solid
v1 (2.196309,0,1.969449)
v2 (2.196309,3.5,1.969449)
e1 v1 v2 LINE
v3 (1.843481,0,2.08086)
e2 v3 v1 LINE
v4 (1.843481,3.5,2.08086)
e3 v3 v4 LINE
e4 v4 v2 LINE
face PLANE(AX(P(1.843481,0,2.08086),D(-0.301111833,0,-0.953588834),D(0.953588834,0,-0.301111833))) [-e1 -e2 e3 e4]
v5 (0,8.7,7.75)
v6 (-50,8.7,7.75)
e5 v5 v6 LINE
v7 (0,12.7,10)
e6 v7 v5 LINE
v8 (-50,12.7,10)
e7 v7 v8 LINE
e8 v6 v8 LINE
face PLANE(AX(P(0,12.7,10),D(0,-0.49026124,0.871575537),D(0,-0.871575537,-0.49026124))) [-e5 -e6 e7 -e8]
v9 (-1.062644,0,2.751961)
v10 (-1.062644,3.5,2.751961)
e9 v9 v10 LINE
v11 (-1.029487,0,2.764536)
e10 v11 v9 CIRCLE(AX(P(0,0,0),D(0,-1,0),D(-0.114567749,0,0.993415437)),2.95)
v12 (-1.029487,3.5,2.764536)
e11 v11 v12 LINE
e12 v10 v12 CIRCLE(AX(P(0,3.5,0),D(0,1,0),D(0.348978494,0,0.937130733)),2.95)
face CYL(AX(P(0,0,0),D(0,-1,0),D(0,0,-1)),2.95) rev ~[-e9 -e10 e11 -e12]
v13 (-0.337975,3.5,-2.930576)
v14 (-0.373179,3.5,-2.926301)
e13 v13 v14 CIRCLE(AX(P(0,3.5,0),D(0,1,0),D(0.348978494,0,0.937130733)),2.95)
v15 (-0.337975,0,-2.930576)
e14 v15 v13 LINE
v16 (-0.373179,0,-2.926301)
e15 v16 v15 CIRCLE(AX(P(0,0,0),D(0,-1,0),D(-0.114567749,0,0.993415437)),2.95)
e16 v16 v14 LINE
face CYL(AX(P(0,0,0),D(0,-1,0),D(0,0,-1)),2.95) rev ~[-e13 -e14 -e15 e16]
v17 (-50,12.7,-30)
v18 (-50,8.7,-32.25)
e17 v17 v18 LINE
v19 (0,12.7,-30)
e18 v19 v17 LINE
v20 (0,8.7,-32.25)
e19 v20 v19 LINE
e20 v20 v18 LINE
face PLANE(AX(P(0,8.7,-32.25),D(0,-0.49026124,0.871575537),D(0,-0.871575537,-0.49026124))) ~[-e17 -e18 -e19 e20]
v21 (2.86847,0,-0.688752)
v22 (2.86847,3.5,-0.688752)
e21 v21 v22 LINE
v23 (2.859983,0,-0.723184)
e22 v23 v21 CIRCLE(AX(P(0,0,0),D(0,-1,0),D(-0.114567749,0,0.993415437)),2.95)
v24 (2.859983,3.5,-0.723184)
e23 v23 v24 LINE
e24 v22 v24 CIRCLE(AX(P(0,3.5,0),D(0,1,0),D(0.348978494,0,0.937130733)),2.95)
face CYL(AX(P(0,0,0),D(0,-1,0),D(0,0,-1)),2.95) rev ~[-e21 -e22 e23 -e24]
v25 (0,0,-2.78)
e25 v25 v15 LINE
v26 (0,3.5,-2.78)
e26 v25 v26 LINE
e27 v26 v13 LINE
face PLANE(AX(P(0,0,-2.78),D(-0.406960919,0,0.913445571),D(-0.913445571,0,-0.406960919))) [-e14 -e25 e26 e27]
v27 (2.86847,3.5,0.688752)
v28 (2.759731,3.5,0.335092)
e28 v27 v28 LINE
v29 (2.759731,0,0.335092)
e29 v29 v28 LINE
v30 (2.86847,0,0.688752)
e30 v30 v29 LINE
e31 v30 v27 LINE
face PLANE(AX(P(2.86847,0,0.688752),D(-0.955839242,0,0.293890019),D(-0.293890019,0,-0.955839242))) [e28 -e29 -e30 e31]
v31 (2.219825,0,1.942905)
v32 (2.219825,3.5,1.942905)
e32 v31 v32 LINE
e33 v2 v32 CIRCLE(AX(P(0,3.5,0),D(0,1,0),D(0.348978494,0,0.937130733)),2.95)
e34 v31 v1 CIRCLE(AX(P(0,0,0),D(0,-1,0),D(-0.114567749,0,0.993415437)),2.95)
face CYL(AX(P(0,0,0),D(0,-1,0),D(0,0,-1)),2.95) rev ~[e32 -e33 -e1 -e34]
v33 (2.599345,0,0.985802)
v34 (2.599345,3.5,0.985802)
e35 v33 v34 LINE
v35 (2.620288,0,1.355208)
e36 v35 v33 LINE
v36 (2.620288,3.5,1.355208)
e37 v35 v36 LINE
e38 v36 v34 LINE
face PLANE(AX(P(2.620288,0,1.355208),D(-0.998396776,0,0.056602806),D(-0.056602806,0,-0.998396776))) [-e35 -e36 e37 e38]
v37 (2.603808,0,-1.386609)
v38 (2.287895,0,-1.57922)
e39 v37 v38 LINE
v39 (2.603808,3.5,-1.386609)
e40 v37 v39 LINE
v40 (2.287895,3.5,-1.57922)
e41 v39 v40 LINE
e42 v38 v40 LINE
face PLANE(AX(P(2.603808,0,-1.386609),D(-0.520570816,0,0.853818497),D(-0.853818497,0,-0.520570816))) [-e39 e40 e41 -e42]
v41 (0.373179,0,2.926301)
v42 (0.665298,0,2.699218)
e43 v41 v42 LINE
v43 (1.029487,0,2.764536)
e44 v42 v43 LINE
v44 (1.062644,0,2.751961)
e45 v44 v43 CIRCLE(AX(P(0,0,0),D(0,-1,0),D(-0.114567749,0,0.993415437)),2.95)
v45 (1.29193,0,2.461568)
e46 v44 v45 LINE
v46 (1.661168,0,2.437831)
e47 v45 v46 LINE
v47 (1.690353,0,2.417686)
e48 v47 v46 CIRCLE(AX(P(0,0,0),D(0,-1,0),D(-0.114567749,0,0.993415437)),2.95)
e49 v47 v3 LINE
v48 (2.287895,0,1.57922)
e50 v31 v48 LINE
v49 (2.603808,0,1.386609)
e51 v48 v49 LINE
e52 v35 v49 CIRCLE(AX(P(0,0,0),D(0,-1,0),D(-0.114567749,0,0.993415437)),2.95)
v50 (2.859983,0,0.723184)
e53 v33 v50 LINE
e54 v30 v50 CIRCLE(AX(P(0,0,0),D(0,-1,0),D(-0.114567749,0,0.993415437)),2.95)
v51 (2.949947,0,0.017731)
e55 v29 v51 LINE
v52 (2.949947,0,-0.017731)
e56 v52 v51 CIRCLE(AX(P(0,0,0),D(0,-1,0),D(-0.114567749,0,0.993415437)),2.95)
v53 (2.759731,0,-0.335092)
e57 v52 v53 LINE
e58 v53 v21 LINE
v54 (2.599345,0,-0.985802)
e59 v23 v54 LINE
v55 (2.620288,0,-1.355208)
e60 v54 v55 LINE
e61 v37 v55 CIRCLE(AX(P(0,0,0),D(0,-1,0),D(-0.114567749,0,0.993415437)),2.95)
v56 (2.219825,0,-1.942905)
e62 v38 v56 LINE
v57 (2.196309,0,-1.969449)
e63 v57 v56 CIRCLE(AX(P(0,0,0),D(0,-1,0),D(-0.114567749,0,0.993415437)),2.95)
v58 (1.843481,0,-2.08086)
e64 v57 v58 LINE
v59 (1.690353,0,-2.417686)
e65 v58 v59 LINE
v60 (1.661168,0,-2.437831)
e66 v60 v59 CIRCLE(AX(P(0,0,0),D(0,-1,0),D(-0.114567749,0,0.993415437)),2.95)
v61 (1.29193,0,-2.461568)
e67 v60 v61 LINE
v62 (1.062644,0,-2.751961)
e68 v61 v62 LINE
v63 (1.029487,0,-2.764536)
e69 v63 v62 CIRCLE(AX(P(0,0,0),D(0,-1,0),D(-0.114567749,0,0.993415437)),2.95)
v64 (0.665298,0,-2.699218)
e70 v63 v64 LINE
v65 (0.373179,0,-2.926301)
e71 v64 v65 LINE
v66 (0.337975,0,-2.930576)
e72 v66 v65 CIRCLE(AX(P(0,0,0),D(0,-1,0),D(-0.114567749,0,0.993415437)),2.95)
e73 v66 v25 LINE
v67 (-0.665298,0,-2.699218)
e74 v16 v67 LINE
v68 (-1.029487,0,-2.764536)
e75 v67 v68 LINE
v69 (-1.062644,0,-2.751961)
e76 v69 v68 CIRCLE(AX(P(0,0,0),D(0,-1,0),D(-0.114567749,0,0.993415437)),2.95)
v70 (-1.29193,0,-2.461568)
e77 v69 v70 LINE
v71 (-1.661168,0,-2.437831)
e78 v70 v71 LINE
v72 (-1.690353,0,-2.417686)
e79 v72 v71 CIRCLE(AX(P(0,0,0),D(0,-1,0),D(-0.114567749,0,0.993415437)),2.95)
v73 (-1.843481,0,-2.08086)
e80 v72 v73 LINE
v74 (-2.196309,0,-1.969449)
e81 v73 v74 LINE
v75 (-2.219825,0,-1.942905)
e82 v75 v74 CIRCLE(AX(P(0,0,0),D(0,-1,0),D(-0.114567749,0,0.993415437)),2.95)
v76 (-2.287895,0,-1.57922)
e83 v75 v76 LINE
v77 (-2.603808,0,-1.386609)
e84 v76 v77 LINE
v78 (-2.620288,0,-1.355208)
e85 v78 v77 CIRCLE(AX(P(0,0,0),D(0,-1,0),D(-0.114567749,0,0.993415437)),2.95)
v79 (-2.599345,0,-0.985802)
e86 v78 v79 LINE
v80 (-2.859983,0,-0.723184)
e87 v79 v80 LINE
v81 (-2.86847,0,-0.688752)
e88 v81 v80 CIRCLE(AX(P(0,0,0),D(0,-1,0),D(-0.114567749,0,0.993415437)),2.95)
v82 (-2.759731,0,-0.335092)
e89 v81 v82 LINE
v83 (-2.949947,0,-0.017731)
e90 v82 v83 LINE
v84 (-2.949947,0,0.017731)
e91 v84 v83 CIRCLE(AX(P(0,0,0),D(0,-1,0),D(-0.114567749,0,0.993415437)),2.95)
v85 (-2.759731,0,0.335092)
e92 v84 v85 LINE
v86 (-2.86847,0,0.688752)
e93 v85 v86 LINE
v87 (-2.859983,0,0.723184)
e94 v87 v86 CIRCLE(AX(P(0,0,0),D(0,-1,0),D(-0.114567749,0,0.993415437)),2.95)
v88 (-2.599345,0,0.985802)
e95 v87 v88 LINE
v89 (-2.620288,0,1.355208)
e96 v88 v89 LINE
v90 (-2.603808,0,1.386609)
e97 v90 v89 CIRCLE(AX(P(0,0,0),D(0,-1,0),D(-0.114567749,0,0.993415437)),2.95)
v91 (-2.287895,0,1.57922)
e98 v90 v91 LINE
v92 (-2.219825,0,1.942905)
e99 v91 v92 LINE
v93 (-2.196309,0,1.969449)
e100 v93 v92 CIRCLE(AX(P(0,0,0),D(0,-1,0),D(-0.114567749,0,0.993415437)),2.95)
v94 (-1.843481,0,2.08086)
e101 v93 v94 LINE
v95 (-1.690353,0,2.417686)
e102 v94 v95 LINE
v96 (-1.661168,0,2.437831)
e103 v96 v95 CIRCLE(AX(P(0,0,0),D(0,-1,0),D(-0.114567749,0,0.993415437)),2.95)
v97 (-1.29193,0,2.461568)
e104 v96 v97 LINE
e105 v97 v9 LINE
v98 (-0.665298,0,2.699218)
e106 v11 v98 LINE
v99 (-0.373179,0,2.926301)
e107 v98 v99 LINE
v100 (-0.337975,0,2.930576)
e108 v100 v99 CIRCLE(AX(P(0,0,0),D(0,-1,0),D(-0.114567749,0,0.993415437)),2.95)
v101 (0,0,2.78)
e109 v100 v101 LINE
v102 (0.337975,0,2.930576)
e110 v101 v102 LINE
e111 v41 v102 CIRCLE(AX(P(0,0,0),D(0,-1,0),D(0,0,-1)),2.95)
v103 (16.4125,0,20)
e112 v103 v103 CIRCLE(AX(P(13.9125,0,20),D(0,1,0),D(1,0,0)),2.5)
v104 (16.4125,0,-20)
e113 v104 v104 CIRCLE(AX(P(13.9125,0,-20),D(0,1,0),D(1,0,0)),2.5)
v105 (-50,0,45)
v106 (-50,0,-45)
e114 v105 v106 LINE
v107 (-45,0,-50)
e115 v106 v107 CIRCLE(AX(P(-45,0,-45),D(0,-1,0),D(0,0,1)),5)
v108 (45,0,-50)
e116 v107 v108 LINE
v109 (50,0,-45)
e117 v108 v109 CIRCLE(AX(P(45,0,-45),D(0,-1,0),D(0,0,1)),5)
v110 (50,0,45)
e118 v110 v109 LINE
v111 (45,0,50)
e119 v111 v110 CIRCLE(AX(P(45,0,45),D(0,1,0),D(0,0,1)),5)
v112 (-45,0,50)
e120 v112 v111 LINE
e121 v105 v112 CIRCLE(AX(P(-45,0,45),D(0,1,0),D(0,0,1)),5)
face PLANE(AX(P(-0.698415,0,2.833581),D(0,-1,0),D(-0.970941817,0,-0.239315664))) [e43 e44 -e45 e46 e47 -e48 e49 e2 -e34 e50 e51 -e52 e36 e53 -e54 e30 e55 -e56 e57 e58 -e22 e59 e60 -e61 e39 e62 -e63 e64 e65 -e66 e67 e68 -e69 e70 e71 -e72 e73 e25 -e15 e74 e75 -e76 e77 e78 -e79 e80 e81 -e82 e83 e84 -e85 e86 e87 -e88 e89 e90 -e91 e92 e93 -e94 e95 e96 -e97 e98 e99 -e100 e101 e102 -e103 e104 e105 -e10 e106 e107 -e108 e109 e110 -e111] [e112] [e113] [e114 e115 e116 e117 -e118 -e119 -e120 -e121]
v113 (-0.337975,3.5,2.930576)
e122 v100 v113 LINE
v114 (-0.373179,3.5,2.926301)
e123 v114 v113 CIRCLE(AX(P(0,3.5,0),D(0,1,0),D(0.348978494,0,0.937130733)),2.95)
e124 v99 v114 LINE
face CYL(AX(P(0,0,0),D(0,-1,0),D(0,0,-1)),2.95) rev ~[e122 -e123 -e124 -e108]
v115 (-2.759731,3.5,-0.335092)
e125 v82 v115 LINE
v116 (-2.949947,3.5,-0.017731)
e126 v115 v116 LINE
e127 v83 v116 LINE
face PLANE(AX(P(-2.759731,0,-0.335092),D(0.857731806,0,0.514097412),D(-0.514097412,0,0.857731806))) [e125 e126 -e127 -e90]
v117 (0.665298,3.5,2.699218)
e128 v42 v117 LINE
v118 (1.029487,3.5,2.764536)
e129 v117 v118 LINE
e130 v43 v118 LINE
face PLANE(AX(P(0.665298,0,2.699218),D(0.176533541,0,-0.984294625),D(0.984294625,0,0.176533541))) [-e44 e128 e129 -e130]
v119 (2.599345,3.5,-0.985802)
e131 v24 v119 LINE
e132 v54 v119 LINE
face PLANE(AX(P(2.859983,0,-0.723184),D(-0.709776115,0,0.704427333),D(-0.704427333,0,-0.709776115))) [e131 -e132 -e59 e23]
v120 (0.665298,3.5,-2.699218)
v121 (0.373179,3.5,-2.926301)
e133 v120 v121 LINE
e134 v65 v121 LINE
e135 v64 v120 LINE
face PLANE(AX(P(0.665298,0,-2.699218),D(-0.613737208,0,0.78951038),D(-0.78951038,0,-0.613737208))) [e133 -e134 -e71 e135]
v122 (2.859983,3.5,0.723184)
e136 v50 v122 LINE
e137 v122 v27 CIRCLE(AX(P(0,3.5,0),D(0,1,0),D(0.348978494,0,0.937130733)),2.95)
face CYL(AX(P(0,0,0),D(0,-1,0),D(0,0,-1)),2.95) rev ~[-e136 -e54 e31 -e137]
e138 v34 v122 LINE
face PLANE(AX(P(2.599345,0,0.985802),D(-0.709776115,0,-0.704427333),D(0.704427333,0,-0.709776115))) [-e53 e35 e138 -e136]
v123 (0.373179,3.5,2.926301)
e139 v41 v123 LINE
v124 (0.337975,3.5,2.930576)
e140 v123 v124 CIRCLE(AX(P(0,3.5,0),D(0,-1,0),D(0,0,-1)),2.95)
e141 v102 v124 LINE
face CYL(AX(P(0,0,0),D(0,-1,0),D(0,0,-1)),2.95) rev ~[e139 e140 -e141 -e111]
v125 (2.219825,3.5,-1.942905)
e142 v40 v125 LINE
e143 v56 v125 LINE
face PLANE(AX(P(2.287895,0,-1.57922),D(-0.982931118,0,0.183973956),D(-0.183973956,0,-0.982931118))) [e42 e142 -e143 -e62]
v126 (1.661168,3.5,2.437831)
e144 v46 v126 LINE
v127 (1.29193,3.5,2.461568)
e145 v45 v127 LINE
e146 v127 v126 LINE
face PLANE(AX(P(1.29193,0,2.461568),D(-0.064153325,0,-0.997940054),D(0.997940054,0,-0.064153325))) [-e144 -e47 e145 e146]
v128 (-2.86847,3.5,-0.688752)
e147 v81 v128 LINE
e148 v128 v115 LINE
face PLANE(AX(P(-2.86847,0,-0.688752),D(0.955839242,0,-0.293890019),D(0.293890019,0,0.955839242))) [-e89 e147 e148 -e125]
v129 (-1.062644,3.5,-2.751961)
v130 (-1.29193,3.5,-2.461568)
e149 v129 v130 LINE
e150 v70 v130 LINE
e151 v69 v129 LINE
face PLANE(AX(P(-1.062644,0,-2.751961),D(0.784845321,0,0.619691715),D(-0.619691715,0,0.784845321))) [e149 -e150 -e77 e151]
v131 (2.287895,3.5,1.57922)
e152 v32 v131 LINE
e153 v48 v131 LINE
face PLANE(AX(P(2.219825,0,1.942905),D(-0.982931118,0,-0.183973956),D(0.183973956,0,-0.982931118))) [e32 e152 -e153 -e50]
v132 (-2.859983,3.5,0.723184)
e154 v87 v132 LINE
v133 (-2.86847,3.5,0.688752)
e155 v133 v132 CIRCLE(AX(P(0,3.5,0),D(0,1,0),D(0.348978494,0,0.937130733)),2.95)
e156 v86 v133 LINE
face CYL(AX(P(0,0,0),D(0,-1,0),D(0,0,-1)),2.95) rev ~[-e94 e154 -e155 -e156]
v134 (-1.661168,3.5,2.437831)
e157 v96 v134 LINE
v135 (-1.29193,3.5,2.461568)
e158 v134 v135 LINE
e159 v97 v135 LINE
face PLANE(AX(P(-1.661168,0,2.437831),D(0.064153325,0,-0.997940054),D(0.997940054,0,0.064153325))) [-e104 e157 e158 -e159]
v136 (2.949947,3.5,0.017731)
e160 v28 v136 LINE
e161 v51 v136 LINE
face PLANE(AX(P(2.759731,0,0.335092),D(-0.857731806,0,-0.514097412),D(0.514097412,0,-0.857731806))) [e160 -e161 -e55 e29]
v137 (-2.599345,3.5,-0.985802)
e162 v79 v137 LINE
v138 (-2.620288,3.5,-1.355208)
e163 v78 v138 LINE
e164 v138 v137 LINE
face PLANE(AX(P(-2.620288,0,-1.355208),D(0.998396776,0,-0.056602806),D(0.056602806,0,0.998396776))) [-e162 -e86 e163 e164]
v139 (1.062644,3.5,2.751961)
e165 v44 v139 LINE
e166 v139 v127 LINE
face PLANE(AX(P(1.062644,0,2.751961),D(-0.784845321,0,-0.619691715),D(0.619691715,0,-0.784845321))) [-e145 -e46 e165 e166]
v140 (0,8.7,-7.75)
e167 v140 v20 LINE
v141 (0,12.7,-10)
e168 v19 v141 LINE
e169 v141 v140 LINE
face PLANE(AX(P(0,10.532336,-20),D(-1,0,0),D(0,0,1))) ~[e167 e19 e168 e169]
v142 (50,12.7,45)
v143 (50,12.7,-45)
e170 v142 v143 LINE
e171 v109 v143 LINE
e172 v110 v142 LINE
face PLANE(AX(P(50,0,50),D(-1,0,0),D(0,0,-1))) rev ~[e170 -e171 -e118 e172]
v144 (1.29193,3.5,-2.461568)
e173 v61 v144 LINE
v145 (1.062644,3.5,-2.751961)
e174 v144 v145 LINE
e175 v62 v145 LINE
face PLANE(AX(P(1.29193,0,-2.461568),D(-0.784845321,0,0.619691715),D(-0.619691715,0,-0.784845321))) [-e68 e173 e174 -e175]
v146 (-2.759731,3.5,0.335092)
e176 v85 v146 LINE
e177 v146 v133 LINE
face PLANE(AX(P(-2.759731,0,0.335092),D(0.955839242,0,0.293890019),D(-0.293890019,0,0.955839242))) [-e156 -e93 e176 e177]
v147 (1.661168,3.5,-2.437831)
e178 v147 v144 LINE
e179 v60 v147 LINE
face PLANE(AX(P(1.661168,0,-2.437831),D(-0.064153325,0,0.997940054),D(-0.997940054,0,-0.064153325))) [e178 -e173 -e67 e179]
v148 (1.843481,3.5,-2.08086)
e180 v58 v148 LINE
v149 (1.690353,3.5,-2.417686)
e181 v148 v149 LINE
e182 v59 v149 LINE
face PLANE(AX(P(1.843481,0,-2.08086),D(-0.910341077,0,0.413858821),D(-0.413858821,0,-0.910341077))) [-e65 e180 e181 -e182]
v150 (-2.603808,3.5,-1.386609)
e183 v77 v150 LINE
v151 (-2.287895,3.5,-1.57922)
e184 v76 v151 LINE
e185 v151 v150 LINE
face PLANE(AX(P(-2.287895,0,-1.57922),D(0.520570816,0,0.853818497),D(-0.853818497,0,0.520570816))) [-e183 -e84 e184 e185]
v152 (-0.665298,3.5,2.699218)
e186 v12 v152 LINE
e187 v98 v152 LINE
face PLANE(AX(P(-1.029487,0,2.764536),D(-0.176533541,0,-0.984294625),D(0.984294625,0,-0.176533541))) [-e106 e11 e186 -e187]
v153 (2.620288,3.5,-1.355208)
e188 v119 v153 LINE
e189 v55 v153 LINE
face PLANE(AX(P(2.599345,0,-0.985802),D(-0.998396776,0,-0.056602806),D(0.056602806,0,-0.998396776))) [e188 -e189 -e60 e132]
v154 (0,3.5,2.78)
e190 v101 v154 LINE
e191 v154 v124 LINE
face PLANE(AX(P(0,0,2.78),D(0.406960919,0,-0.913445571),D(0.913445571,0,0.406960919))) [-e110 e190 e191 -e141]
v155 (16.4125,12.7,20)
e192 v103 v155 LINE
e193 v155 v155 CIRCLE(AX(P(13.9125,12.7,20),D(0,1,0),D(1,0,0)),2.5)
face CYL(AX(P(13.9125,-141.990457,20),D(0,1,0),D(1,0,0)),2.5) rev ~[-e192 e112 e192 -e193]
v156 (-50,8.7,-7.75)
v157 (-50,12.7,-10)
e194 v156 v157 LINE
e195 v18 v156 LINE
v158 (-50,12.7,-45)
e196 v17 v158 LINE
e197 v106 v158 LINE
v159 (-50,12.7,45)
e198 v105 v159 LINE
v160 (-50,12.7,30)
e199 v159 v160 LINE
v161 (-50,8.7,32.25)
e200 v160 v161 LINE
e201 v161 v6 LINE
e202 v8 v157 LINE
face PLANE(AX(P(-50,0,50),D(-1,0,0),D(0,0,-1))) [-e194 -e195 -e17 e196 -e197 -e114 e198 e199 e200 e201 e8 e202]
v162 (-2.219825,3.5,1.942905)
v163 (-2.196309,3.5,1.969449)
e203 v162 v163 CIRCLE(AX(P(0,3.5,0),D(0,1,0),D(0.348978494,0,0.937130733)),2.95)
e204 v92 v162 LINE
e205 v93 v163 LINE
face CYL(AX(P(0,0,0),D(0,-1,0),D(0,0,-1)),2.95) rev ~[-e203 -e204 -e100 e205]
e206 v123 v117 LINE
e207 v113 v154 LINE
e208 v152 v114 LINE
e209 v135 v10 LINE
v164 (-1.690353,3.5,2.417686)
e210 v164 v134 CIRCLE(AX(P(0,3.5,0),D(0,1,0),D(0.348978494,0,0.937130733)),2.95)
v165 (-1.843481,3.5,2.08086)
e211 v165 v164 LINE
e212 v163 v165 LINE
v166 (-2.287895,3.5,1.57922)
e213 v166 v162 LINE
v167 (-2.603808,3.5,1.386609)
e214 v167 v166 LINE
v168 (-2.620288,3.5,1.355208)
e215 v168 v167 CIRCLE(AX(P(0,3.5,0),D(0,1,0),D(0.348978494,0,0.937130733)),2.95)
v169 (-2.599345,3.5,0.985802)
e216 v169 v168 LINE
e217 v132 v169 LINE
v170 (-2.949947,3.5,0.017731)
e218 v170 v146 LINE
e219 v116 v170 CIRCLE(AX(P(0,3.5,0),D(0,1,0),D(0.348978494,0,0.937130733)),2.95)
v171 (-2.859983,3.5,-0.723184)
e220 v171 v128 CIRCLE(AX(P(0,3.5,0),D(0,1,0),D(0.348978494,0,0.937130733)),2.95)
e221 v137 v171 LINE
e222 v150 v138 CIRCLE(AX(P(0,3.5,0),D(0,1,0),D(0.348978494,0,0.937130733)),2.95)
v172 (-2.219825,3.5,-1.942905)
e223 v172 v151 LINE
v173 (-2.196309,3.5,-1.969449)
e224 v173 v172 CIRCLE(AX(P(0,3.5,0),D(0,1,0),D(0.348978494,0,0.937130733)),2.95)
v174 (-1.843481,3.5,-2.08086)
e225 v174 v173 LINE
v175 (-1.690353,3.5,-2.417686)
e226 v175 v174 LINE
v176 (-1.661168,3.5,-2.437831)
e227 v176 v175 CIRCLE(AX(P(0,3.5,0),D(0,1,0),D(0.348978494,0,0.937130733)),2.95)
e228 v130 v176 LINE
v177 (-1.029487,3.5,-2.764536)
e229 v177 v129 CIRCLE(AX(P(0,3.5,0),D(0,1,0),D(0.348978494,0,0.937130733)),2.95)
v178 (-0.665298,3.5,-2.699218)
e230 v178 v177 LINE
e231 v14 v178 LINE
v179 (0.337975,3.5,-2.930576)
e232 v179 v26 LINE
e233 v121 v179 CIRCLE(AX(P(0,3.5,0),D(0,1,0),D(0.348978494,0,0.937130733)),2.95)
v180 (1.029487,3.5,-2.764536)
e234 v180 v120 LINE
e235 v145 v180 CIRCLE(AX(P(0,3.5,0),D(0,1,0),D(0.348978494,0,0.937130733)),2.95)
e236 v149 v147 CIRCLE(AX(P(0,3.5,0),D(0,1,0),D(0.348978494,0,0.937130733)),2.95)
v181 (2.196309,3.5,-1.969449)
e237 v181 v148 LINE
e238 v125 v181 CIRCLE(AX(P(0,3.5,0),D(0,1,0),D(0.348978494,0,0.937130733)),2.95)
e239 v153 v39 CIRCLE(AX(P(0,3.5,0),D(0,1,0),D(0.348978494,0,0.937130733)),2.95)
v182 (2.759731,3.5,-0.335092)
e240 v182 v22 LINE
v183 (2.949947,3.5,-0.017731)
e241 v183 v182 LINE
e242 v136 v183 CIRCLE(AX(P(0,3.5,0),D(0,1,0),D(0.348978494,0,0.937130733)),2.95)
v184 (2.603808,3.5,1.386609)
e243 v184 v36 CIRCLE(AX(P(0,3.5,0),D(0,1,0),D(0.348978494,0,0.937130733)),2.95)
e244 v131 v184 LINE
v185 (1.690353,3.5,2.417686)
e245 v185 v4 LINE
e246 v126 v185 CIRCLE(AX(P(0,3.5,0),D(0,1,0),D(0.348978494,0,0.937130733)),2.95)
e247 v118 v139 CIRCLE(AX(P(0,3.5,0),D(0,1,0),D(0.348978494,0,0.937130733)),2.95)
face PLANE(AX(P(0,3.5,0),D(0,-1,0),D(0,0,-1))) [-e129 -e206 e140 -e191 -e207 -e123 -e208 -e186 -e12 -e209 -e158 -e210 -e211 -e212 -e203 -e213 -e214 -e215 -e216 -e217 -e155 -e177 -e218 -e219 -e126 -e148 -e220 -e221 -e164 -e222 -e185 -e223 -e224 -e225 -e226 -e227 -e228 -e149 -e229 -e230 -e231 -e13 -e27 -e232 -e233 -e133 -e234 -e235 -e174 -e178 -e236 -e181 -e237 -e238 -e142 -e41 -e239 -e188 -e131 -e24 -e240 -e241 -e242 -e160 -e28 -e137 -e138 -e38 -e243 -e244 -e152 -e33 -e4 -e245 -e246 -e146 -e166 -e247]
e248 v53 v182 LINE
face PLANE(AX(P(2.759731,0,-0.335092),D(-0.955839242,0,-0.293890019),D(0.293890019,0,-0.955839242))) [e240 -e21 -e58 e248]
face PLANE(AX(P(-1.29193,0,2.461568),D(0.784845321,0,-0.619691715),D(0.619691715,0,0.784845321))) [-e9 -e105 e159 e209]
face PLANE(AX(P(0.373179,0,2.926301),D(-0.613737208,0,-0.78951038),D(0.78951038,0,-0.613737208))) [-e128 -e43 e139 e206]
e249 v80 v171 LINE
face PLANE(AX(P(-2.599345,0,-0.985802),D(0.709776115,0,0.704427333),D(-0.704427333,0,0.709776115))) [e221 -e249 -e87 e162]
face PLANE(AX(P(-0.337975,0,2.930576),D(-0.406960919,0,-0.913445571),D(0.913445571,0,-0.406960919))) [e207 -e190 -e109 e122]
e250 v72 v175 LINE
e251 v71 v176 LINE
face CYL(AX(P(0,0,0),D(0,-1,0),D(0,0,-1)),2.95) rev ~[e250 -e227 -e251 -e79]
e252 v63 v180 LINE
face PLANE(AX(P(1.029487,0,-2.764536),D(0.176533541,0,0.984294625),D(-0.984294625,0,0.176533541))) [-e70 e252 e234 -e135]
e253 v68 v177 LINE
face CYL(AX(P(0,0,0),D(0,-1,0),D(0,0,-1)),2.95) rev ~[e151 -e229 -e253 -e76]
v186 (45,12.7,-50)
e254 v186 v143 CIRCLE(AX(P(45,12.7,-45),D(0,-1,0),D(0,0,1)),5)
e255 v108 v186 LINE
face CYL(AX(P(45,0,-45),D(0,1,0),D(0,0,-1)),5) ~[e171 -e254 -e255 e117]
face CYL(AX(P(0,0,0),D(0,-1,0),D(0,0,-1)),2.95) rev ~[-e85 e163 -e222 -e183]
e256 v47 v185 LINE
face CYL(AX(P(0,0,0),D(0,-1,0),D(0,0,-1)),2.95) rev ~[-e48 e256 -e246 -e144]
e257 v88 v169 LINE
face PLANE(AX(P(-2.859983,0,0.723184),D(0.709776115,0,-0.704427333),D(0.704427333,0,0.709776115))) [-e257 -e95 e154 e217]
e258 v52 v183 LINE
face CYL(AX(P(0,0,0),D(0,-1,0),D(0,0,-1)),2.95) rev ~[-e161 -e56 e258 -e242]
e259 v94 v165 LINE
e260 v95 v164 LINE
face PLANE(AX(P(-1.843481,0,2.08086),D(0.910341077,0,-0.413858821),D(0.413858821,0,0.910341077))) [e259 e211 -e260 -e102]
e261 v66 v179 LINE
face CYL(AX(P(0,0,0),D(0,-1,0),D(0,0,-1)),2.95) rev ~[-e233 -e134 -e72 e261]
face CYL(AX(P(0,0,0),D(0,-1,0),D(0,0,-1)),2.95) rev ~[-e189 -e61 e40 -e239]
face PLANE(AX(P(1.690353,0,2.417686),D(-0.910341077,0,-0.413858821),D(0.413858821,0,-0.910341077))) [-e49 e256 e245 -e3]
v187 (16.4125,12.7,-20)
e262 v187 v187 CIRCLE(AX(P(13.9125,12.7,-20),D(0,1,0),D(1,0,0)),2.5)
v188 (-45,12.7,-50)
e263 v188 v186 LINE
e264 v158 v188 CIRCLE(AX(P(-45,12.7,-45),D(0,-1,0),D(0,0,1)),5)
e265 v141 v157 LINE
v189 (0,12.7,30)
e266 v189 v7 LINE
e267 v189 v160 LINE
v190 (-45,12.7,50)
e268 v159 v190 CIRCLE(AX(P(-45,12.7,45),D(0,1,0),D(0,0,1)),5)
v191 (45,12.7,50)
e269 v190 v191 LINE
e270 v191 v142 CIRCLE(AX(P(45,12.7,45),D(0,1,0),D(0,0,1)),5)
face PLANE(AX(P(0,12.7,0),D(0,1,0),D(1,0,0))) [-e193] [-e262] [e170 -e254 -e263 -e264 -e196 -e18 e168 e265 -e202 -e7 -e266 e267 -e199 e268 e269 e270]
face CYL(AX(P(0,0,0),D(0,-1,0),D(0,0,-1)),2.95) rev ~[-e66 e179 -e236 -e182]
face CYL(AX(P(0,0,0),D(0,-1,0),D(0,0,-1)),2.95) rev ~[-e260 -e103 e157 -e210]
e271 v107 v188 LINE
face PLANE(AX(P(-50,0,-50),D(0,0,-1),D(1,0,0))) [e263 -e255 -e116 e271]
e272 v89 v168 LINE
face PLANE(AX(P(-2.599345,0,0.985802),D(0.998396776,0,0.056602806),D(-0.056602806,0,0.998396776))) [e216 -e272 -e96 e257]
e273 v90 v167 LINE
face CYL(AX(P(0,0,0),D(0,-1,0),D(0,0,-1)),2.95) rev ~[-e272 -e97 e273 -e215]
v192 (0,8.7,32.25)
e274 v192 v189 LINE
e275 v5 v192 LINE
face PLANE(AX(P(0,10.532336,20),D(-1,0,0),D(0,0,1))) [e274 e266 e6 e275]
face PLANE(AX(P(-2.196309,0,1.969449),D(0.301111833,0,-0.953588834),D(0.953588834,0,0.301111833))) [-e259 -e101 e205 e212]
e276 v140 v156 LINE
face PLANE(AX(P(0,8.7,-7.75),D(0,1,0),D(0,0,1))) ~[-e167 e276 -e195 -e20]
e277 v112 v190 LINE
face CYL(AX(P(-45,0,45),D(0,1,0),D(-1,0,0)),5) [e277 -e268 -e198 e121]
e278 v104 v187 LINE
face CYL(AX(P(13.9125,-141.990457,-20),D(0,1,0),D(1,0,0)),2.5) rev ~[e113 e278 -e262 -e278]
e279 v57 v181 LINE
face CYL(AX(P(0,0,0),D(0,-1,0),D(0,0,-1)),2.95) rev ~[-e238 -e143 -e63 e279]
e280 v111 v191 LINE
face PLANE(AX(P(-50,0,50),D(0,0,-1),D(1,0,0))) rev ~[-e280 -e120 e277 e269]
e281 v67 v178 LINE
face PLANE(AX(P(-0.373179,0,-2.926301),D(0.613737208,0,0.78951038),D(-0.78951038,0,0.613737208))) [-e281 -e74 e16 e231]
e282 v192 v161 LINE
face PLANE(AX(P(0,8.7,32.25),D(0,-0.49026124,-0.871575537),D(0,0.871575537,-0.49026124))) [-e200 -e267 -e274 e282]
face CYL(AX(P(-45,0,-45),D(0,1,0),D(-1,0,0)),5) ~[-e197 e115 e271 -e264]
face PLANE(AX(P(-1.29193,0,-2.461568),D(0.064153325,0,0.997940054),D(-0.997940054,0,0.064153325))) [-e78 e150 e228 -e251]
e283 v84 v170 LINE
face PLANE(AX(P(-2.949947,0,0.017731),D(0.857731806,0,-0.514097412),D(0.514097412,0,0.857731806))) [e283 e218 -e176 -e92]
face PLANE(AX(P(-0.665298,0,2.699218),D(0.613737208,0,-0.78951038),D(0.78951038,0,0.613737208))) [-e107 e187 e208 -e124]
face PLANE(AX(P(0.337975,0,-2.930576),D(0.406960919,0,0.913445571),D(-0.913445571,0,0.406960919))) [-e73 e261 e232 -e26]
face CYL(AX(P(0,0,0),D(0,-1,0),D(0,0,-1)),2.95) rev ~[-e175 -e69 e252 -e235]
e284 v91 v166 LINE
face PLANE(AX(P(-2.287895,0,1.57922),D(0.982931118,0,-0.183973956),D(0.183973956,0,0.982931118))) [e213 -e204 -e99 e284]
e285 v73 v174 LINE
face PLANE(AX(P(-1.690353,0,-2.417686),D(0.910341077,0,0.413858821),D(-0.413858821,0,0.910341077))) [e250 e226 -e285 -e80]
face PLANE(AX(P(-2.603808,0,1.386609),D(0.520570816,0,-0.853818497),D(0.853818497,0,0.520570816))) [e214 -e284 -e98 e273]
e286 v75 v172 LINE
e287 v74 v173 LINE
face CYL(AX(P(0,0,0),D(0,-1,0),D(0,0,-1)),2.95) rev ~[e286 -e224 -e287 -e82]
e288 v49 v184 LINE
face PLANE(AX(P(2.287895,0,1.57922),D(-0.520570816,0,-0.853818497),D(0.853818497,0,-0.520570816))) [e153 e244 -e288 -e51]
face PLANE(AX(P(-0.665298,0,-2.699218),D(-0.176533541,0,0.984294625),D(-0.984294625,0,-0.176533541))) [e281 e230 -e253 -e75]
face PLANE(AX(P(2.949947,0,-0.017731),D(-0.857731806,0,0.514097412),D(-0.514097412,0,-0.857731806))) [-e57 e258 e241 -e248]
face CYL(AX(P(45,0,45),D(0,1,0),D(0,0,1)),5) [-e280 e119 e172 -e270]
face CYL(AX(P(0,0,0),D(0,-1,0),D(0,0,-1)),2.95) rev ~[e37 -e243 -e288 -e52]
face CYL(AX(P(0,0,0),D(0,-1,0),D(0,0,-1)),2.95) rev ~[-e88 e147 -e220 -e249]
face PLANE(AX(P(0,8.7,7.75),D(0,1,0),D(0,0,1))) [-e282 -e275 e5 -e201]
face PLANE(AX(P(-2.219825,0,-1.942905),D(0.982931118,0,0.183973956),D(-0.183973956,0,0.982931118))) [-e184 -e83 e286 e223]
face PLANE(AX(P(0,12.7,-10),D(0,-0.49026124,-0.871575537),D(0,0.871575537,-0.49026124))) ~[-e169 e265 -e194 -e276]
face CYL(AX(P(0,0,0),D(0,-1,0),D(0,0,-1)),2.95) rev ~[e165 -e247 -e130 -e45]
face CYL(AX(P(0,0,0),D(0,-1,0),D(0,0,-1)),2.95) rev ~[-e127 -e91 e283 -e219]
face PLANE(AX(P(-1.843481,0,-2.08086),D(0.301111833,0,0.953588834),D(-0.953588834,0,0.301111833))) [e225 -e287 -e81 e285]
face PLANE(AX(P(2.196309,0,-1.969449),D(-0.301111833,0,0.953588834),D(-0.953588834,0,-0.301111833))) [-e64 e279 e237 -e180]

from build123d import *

# Parameters (mm, degrees)
ESBO_O2_W                = 100
ESBO_O2_H                = 100
RESSALTO_EXTRUS_O1_DEPTH = 12.7
CORTE_EXTRUS_O1_DEPTH    = 72.842118566
ESBO_O7_R                = 2.95
CORTE_EXTRUS_O3_DEPTH    = 3.5
RESSALTO_EXTRUS_O4_DEPTH = 3.5
PADR_OCIRCULAR1_COUNT    = 26
FILETE2_R                = 5
FURO_ROSCADO_DE_M61_D    = 5


with BuildPart() as part:
    # Esboço2 → Ressalto-extrusão1 (new body)
    with BuildSketch(Plane(origin=(0, 0, 0), x_dir=(1, 0, 0), z_dir=(0, 1, 0))):
        Rectangle(ESBO_O2_W, ESBO_O2_H)
    extrude(amount=RESSALTO_EXTRUS_O1_DEPTH)

    # Esboço4 → Corte-extrusão1 (cut, through all)
    with BuildSketch(Plane(origin=(0, 0, 0), x_dir=(0, 0, -1), z_dir=(1, 0, 0))):
        Polygon((-30, 12.7), (-10, 12.7), (-7.75, 8.7), (-32.25, 8.7), align=None)
    corte_extrus_o1 = extrude(amount=-CORTE_EXTRUS_O1_DEPTH, mode=Mode.SUBTRACT)

    # Espelhar1: Corte-extrusão1 across plane
    add(corte_extrus_o1.mirror(Plane.XY), mode=Mode.SUBTRACT)

    # Esboço7 → Corte-extrusão3 (cut)
    with BuildSketch(Plane.XZ):
        with Locations(Location((0, 0, 0), (0, 0, 270))):
            Circle(ESBO_O7_R)
    extrude(amount=-CORTE_EXTRUS_O3_DEPTH, mode=Mode.SUBTRACT)

    # Esboço8 → Ressalto-extrusão4 (add)
    with BuildSketch(Plane(origin=(0, 0, 0), x_dir=(-1, 0, 0), z_dir=(0, -1, 0))):
        Polygon((0, -2.78), (-0.337974861, -2.93057554), (-0.337974861, -2.981739448), (0.337974861, -2.981739448), (0.337974861, -2.93057554), align=None)
    ressalto_extrus_o4 = extrude(amount=-RESSALTO_EXTRUS_O4_DEPTH)

    # PadrãoCircular1: Ressalto-extrusão4 ×26 about axis
    padr_ocircular1_axis = Axis((0, 0, 0), (0, 1, 0))
    for i in range(1, PADR_OCIRCULAR1_COUNT):
        add(ressalto_extrus_o4.rotate(padr_ocircular1_axis, i * 360 / PADR_OCIRCULAR1_COUNT))

    # Filete2
    filete2_edges = [part.edges().sort_by_distance(p)[0] for p in [
        (-50, 6.35, -50),
        (50, 6.35, -50),
        (50, 6.35, 50),
        (-50, 6.35, 50),
    ]]
    fillet(filete2_edges, radius=FILETE2_R)

    # Furo roscado de M61 (through all)
    with Locations(Plane(origin=(0, 0, 0), x_dir=(-1, 0, 0), z_dir=(0, -1, 0))):
        with Locations((-13.9125, -20), (-13.9125, 20)):
            Hole(FURO_ROSCADO_DE_M61_D / 2)


solid = part.part
